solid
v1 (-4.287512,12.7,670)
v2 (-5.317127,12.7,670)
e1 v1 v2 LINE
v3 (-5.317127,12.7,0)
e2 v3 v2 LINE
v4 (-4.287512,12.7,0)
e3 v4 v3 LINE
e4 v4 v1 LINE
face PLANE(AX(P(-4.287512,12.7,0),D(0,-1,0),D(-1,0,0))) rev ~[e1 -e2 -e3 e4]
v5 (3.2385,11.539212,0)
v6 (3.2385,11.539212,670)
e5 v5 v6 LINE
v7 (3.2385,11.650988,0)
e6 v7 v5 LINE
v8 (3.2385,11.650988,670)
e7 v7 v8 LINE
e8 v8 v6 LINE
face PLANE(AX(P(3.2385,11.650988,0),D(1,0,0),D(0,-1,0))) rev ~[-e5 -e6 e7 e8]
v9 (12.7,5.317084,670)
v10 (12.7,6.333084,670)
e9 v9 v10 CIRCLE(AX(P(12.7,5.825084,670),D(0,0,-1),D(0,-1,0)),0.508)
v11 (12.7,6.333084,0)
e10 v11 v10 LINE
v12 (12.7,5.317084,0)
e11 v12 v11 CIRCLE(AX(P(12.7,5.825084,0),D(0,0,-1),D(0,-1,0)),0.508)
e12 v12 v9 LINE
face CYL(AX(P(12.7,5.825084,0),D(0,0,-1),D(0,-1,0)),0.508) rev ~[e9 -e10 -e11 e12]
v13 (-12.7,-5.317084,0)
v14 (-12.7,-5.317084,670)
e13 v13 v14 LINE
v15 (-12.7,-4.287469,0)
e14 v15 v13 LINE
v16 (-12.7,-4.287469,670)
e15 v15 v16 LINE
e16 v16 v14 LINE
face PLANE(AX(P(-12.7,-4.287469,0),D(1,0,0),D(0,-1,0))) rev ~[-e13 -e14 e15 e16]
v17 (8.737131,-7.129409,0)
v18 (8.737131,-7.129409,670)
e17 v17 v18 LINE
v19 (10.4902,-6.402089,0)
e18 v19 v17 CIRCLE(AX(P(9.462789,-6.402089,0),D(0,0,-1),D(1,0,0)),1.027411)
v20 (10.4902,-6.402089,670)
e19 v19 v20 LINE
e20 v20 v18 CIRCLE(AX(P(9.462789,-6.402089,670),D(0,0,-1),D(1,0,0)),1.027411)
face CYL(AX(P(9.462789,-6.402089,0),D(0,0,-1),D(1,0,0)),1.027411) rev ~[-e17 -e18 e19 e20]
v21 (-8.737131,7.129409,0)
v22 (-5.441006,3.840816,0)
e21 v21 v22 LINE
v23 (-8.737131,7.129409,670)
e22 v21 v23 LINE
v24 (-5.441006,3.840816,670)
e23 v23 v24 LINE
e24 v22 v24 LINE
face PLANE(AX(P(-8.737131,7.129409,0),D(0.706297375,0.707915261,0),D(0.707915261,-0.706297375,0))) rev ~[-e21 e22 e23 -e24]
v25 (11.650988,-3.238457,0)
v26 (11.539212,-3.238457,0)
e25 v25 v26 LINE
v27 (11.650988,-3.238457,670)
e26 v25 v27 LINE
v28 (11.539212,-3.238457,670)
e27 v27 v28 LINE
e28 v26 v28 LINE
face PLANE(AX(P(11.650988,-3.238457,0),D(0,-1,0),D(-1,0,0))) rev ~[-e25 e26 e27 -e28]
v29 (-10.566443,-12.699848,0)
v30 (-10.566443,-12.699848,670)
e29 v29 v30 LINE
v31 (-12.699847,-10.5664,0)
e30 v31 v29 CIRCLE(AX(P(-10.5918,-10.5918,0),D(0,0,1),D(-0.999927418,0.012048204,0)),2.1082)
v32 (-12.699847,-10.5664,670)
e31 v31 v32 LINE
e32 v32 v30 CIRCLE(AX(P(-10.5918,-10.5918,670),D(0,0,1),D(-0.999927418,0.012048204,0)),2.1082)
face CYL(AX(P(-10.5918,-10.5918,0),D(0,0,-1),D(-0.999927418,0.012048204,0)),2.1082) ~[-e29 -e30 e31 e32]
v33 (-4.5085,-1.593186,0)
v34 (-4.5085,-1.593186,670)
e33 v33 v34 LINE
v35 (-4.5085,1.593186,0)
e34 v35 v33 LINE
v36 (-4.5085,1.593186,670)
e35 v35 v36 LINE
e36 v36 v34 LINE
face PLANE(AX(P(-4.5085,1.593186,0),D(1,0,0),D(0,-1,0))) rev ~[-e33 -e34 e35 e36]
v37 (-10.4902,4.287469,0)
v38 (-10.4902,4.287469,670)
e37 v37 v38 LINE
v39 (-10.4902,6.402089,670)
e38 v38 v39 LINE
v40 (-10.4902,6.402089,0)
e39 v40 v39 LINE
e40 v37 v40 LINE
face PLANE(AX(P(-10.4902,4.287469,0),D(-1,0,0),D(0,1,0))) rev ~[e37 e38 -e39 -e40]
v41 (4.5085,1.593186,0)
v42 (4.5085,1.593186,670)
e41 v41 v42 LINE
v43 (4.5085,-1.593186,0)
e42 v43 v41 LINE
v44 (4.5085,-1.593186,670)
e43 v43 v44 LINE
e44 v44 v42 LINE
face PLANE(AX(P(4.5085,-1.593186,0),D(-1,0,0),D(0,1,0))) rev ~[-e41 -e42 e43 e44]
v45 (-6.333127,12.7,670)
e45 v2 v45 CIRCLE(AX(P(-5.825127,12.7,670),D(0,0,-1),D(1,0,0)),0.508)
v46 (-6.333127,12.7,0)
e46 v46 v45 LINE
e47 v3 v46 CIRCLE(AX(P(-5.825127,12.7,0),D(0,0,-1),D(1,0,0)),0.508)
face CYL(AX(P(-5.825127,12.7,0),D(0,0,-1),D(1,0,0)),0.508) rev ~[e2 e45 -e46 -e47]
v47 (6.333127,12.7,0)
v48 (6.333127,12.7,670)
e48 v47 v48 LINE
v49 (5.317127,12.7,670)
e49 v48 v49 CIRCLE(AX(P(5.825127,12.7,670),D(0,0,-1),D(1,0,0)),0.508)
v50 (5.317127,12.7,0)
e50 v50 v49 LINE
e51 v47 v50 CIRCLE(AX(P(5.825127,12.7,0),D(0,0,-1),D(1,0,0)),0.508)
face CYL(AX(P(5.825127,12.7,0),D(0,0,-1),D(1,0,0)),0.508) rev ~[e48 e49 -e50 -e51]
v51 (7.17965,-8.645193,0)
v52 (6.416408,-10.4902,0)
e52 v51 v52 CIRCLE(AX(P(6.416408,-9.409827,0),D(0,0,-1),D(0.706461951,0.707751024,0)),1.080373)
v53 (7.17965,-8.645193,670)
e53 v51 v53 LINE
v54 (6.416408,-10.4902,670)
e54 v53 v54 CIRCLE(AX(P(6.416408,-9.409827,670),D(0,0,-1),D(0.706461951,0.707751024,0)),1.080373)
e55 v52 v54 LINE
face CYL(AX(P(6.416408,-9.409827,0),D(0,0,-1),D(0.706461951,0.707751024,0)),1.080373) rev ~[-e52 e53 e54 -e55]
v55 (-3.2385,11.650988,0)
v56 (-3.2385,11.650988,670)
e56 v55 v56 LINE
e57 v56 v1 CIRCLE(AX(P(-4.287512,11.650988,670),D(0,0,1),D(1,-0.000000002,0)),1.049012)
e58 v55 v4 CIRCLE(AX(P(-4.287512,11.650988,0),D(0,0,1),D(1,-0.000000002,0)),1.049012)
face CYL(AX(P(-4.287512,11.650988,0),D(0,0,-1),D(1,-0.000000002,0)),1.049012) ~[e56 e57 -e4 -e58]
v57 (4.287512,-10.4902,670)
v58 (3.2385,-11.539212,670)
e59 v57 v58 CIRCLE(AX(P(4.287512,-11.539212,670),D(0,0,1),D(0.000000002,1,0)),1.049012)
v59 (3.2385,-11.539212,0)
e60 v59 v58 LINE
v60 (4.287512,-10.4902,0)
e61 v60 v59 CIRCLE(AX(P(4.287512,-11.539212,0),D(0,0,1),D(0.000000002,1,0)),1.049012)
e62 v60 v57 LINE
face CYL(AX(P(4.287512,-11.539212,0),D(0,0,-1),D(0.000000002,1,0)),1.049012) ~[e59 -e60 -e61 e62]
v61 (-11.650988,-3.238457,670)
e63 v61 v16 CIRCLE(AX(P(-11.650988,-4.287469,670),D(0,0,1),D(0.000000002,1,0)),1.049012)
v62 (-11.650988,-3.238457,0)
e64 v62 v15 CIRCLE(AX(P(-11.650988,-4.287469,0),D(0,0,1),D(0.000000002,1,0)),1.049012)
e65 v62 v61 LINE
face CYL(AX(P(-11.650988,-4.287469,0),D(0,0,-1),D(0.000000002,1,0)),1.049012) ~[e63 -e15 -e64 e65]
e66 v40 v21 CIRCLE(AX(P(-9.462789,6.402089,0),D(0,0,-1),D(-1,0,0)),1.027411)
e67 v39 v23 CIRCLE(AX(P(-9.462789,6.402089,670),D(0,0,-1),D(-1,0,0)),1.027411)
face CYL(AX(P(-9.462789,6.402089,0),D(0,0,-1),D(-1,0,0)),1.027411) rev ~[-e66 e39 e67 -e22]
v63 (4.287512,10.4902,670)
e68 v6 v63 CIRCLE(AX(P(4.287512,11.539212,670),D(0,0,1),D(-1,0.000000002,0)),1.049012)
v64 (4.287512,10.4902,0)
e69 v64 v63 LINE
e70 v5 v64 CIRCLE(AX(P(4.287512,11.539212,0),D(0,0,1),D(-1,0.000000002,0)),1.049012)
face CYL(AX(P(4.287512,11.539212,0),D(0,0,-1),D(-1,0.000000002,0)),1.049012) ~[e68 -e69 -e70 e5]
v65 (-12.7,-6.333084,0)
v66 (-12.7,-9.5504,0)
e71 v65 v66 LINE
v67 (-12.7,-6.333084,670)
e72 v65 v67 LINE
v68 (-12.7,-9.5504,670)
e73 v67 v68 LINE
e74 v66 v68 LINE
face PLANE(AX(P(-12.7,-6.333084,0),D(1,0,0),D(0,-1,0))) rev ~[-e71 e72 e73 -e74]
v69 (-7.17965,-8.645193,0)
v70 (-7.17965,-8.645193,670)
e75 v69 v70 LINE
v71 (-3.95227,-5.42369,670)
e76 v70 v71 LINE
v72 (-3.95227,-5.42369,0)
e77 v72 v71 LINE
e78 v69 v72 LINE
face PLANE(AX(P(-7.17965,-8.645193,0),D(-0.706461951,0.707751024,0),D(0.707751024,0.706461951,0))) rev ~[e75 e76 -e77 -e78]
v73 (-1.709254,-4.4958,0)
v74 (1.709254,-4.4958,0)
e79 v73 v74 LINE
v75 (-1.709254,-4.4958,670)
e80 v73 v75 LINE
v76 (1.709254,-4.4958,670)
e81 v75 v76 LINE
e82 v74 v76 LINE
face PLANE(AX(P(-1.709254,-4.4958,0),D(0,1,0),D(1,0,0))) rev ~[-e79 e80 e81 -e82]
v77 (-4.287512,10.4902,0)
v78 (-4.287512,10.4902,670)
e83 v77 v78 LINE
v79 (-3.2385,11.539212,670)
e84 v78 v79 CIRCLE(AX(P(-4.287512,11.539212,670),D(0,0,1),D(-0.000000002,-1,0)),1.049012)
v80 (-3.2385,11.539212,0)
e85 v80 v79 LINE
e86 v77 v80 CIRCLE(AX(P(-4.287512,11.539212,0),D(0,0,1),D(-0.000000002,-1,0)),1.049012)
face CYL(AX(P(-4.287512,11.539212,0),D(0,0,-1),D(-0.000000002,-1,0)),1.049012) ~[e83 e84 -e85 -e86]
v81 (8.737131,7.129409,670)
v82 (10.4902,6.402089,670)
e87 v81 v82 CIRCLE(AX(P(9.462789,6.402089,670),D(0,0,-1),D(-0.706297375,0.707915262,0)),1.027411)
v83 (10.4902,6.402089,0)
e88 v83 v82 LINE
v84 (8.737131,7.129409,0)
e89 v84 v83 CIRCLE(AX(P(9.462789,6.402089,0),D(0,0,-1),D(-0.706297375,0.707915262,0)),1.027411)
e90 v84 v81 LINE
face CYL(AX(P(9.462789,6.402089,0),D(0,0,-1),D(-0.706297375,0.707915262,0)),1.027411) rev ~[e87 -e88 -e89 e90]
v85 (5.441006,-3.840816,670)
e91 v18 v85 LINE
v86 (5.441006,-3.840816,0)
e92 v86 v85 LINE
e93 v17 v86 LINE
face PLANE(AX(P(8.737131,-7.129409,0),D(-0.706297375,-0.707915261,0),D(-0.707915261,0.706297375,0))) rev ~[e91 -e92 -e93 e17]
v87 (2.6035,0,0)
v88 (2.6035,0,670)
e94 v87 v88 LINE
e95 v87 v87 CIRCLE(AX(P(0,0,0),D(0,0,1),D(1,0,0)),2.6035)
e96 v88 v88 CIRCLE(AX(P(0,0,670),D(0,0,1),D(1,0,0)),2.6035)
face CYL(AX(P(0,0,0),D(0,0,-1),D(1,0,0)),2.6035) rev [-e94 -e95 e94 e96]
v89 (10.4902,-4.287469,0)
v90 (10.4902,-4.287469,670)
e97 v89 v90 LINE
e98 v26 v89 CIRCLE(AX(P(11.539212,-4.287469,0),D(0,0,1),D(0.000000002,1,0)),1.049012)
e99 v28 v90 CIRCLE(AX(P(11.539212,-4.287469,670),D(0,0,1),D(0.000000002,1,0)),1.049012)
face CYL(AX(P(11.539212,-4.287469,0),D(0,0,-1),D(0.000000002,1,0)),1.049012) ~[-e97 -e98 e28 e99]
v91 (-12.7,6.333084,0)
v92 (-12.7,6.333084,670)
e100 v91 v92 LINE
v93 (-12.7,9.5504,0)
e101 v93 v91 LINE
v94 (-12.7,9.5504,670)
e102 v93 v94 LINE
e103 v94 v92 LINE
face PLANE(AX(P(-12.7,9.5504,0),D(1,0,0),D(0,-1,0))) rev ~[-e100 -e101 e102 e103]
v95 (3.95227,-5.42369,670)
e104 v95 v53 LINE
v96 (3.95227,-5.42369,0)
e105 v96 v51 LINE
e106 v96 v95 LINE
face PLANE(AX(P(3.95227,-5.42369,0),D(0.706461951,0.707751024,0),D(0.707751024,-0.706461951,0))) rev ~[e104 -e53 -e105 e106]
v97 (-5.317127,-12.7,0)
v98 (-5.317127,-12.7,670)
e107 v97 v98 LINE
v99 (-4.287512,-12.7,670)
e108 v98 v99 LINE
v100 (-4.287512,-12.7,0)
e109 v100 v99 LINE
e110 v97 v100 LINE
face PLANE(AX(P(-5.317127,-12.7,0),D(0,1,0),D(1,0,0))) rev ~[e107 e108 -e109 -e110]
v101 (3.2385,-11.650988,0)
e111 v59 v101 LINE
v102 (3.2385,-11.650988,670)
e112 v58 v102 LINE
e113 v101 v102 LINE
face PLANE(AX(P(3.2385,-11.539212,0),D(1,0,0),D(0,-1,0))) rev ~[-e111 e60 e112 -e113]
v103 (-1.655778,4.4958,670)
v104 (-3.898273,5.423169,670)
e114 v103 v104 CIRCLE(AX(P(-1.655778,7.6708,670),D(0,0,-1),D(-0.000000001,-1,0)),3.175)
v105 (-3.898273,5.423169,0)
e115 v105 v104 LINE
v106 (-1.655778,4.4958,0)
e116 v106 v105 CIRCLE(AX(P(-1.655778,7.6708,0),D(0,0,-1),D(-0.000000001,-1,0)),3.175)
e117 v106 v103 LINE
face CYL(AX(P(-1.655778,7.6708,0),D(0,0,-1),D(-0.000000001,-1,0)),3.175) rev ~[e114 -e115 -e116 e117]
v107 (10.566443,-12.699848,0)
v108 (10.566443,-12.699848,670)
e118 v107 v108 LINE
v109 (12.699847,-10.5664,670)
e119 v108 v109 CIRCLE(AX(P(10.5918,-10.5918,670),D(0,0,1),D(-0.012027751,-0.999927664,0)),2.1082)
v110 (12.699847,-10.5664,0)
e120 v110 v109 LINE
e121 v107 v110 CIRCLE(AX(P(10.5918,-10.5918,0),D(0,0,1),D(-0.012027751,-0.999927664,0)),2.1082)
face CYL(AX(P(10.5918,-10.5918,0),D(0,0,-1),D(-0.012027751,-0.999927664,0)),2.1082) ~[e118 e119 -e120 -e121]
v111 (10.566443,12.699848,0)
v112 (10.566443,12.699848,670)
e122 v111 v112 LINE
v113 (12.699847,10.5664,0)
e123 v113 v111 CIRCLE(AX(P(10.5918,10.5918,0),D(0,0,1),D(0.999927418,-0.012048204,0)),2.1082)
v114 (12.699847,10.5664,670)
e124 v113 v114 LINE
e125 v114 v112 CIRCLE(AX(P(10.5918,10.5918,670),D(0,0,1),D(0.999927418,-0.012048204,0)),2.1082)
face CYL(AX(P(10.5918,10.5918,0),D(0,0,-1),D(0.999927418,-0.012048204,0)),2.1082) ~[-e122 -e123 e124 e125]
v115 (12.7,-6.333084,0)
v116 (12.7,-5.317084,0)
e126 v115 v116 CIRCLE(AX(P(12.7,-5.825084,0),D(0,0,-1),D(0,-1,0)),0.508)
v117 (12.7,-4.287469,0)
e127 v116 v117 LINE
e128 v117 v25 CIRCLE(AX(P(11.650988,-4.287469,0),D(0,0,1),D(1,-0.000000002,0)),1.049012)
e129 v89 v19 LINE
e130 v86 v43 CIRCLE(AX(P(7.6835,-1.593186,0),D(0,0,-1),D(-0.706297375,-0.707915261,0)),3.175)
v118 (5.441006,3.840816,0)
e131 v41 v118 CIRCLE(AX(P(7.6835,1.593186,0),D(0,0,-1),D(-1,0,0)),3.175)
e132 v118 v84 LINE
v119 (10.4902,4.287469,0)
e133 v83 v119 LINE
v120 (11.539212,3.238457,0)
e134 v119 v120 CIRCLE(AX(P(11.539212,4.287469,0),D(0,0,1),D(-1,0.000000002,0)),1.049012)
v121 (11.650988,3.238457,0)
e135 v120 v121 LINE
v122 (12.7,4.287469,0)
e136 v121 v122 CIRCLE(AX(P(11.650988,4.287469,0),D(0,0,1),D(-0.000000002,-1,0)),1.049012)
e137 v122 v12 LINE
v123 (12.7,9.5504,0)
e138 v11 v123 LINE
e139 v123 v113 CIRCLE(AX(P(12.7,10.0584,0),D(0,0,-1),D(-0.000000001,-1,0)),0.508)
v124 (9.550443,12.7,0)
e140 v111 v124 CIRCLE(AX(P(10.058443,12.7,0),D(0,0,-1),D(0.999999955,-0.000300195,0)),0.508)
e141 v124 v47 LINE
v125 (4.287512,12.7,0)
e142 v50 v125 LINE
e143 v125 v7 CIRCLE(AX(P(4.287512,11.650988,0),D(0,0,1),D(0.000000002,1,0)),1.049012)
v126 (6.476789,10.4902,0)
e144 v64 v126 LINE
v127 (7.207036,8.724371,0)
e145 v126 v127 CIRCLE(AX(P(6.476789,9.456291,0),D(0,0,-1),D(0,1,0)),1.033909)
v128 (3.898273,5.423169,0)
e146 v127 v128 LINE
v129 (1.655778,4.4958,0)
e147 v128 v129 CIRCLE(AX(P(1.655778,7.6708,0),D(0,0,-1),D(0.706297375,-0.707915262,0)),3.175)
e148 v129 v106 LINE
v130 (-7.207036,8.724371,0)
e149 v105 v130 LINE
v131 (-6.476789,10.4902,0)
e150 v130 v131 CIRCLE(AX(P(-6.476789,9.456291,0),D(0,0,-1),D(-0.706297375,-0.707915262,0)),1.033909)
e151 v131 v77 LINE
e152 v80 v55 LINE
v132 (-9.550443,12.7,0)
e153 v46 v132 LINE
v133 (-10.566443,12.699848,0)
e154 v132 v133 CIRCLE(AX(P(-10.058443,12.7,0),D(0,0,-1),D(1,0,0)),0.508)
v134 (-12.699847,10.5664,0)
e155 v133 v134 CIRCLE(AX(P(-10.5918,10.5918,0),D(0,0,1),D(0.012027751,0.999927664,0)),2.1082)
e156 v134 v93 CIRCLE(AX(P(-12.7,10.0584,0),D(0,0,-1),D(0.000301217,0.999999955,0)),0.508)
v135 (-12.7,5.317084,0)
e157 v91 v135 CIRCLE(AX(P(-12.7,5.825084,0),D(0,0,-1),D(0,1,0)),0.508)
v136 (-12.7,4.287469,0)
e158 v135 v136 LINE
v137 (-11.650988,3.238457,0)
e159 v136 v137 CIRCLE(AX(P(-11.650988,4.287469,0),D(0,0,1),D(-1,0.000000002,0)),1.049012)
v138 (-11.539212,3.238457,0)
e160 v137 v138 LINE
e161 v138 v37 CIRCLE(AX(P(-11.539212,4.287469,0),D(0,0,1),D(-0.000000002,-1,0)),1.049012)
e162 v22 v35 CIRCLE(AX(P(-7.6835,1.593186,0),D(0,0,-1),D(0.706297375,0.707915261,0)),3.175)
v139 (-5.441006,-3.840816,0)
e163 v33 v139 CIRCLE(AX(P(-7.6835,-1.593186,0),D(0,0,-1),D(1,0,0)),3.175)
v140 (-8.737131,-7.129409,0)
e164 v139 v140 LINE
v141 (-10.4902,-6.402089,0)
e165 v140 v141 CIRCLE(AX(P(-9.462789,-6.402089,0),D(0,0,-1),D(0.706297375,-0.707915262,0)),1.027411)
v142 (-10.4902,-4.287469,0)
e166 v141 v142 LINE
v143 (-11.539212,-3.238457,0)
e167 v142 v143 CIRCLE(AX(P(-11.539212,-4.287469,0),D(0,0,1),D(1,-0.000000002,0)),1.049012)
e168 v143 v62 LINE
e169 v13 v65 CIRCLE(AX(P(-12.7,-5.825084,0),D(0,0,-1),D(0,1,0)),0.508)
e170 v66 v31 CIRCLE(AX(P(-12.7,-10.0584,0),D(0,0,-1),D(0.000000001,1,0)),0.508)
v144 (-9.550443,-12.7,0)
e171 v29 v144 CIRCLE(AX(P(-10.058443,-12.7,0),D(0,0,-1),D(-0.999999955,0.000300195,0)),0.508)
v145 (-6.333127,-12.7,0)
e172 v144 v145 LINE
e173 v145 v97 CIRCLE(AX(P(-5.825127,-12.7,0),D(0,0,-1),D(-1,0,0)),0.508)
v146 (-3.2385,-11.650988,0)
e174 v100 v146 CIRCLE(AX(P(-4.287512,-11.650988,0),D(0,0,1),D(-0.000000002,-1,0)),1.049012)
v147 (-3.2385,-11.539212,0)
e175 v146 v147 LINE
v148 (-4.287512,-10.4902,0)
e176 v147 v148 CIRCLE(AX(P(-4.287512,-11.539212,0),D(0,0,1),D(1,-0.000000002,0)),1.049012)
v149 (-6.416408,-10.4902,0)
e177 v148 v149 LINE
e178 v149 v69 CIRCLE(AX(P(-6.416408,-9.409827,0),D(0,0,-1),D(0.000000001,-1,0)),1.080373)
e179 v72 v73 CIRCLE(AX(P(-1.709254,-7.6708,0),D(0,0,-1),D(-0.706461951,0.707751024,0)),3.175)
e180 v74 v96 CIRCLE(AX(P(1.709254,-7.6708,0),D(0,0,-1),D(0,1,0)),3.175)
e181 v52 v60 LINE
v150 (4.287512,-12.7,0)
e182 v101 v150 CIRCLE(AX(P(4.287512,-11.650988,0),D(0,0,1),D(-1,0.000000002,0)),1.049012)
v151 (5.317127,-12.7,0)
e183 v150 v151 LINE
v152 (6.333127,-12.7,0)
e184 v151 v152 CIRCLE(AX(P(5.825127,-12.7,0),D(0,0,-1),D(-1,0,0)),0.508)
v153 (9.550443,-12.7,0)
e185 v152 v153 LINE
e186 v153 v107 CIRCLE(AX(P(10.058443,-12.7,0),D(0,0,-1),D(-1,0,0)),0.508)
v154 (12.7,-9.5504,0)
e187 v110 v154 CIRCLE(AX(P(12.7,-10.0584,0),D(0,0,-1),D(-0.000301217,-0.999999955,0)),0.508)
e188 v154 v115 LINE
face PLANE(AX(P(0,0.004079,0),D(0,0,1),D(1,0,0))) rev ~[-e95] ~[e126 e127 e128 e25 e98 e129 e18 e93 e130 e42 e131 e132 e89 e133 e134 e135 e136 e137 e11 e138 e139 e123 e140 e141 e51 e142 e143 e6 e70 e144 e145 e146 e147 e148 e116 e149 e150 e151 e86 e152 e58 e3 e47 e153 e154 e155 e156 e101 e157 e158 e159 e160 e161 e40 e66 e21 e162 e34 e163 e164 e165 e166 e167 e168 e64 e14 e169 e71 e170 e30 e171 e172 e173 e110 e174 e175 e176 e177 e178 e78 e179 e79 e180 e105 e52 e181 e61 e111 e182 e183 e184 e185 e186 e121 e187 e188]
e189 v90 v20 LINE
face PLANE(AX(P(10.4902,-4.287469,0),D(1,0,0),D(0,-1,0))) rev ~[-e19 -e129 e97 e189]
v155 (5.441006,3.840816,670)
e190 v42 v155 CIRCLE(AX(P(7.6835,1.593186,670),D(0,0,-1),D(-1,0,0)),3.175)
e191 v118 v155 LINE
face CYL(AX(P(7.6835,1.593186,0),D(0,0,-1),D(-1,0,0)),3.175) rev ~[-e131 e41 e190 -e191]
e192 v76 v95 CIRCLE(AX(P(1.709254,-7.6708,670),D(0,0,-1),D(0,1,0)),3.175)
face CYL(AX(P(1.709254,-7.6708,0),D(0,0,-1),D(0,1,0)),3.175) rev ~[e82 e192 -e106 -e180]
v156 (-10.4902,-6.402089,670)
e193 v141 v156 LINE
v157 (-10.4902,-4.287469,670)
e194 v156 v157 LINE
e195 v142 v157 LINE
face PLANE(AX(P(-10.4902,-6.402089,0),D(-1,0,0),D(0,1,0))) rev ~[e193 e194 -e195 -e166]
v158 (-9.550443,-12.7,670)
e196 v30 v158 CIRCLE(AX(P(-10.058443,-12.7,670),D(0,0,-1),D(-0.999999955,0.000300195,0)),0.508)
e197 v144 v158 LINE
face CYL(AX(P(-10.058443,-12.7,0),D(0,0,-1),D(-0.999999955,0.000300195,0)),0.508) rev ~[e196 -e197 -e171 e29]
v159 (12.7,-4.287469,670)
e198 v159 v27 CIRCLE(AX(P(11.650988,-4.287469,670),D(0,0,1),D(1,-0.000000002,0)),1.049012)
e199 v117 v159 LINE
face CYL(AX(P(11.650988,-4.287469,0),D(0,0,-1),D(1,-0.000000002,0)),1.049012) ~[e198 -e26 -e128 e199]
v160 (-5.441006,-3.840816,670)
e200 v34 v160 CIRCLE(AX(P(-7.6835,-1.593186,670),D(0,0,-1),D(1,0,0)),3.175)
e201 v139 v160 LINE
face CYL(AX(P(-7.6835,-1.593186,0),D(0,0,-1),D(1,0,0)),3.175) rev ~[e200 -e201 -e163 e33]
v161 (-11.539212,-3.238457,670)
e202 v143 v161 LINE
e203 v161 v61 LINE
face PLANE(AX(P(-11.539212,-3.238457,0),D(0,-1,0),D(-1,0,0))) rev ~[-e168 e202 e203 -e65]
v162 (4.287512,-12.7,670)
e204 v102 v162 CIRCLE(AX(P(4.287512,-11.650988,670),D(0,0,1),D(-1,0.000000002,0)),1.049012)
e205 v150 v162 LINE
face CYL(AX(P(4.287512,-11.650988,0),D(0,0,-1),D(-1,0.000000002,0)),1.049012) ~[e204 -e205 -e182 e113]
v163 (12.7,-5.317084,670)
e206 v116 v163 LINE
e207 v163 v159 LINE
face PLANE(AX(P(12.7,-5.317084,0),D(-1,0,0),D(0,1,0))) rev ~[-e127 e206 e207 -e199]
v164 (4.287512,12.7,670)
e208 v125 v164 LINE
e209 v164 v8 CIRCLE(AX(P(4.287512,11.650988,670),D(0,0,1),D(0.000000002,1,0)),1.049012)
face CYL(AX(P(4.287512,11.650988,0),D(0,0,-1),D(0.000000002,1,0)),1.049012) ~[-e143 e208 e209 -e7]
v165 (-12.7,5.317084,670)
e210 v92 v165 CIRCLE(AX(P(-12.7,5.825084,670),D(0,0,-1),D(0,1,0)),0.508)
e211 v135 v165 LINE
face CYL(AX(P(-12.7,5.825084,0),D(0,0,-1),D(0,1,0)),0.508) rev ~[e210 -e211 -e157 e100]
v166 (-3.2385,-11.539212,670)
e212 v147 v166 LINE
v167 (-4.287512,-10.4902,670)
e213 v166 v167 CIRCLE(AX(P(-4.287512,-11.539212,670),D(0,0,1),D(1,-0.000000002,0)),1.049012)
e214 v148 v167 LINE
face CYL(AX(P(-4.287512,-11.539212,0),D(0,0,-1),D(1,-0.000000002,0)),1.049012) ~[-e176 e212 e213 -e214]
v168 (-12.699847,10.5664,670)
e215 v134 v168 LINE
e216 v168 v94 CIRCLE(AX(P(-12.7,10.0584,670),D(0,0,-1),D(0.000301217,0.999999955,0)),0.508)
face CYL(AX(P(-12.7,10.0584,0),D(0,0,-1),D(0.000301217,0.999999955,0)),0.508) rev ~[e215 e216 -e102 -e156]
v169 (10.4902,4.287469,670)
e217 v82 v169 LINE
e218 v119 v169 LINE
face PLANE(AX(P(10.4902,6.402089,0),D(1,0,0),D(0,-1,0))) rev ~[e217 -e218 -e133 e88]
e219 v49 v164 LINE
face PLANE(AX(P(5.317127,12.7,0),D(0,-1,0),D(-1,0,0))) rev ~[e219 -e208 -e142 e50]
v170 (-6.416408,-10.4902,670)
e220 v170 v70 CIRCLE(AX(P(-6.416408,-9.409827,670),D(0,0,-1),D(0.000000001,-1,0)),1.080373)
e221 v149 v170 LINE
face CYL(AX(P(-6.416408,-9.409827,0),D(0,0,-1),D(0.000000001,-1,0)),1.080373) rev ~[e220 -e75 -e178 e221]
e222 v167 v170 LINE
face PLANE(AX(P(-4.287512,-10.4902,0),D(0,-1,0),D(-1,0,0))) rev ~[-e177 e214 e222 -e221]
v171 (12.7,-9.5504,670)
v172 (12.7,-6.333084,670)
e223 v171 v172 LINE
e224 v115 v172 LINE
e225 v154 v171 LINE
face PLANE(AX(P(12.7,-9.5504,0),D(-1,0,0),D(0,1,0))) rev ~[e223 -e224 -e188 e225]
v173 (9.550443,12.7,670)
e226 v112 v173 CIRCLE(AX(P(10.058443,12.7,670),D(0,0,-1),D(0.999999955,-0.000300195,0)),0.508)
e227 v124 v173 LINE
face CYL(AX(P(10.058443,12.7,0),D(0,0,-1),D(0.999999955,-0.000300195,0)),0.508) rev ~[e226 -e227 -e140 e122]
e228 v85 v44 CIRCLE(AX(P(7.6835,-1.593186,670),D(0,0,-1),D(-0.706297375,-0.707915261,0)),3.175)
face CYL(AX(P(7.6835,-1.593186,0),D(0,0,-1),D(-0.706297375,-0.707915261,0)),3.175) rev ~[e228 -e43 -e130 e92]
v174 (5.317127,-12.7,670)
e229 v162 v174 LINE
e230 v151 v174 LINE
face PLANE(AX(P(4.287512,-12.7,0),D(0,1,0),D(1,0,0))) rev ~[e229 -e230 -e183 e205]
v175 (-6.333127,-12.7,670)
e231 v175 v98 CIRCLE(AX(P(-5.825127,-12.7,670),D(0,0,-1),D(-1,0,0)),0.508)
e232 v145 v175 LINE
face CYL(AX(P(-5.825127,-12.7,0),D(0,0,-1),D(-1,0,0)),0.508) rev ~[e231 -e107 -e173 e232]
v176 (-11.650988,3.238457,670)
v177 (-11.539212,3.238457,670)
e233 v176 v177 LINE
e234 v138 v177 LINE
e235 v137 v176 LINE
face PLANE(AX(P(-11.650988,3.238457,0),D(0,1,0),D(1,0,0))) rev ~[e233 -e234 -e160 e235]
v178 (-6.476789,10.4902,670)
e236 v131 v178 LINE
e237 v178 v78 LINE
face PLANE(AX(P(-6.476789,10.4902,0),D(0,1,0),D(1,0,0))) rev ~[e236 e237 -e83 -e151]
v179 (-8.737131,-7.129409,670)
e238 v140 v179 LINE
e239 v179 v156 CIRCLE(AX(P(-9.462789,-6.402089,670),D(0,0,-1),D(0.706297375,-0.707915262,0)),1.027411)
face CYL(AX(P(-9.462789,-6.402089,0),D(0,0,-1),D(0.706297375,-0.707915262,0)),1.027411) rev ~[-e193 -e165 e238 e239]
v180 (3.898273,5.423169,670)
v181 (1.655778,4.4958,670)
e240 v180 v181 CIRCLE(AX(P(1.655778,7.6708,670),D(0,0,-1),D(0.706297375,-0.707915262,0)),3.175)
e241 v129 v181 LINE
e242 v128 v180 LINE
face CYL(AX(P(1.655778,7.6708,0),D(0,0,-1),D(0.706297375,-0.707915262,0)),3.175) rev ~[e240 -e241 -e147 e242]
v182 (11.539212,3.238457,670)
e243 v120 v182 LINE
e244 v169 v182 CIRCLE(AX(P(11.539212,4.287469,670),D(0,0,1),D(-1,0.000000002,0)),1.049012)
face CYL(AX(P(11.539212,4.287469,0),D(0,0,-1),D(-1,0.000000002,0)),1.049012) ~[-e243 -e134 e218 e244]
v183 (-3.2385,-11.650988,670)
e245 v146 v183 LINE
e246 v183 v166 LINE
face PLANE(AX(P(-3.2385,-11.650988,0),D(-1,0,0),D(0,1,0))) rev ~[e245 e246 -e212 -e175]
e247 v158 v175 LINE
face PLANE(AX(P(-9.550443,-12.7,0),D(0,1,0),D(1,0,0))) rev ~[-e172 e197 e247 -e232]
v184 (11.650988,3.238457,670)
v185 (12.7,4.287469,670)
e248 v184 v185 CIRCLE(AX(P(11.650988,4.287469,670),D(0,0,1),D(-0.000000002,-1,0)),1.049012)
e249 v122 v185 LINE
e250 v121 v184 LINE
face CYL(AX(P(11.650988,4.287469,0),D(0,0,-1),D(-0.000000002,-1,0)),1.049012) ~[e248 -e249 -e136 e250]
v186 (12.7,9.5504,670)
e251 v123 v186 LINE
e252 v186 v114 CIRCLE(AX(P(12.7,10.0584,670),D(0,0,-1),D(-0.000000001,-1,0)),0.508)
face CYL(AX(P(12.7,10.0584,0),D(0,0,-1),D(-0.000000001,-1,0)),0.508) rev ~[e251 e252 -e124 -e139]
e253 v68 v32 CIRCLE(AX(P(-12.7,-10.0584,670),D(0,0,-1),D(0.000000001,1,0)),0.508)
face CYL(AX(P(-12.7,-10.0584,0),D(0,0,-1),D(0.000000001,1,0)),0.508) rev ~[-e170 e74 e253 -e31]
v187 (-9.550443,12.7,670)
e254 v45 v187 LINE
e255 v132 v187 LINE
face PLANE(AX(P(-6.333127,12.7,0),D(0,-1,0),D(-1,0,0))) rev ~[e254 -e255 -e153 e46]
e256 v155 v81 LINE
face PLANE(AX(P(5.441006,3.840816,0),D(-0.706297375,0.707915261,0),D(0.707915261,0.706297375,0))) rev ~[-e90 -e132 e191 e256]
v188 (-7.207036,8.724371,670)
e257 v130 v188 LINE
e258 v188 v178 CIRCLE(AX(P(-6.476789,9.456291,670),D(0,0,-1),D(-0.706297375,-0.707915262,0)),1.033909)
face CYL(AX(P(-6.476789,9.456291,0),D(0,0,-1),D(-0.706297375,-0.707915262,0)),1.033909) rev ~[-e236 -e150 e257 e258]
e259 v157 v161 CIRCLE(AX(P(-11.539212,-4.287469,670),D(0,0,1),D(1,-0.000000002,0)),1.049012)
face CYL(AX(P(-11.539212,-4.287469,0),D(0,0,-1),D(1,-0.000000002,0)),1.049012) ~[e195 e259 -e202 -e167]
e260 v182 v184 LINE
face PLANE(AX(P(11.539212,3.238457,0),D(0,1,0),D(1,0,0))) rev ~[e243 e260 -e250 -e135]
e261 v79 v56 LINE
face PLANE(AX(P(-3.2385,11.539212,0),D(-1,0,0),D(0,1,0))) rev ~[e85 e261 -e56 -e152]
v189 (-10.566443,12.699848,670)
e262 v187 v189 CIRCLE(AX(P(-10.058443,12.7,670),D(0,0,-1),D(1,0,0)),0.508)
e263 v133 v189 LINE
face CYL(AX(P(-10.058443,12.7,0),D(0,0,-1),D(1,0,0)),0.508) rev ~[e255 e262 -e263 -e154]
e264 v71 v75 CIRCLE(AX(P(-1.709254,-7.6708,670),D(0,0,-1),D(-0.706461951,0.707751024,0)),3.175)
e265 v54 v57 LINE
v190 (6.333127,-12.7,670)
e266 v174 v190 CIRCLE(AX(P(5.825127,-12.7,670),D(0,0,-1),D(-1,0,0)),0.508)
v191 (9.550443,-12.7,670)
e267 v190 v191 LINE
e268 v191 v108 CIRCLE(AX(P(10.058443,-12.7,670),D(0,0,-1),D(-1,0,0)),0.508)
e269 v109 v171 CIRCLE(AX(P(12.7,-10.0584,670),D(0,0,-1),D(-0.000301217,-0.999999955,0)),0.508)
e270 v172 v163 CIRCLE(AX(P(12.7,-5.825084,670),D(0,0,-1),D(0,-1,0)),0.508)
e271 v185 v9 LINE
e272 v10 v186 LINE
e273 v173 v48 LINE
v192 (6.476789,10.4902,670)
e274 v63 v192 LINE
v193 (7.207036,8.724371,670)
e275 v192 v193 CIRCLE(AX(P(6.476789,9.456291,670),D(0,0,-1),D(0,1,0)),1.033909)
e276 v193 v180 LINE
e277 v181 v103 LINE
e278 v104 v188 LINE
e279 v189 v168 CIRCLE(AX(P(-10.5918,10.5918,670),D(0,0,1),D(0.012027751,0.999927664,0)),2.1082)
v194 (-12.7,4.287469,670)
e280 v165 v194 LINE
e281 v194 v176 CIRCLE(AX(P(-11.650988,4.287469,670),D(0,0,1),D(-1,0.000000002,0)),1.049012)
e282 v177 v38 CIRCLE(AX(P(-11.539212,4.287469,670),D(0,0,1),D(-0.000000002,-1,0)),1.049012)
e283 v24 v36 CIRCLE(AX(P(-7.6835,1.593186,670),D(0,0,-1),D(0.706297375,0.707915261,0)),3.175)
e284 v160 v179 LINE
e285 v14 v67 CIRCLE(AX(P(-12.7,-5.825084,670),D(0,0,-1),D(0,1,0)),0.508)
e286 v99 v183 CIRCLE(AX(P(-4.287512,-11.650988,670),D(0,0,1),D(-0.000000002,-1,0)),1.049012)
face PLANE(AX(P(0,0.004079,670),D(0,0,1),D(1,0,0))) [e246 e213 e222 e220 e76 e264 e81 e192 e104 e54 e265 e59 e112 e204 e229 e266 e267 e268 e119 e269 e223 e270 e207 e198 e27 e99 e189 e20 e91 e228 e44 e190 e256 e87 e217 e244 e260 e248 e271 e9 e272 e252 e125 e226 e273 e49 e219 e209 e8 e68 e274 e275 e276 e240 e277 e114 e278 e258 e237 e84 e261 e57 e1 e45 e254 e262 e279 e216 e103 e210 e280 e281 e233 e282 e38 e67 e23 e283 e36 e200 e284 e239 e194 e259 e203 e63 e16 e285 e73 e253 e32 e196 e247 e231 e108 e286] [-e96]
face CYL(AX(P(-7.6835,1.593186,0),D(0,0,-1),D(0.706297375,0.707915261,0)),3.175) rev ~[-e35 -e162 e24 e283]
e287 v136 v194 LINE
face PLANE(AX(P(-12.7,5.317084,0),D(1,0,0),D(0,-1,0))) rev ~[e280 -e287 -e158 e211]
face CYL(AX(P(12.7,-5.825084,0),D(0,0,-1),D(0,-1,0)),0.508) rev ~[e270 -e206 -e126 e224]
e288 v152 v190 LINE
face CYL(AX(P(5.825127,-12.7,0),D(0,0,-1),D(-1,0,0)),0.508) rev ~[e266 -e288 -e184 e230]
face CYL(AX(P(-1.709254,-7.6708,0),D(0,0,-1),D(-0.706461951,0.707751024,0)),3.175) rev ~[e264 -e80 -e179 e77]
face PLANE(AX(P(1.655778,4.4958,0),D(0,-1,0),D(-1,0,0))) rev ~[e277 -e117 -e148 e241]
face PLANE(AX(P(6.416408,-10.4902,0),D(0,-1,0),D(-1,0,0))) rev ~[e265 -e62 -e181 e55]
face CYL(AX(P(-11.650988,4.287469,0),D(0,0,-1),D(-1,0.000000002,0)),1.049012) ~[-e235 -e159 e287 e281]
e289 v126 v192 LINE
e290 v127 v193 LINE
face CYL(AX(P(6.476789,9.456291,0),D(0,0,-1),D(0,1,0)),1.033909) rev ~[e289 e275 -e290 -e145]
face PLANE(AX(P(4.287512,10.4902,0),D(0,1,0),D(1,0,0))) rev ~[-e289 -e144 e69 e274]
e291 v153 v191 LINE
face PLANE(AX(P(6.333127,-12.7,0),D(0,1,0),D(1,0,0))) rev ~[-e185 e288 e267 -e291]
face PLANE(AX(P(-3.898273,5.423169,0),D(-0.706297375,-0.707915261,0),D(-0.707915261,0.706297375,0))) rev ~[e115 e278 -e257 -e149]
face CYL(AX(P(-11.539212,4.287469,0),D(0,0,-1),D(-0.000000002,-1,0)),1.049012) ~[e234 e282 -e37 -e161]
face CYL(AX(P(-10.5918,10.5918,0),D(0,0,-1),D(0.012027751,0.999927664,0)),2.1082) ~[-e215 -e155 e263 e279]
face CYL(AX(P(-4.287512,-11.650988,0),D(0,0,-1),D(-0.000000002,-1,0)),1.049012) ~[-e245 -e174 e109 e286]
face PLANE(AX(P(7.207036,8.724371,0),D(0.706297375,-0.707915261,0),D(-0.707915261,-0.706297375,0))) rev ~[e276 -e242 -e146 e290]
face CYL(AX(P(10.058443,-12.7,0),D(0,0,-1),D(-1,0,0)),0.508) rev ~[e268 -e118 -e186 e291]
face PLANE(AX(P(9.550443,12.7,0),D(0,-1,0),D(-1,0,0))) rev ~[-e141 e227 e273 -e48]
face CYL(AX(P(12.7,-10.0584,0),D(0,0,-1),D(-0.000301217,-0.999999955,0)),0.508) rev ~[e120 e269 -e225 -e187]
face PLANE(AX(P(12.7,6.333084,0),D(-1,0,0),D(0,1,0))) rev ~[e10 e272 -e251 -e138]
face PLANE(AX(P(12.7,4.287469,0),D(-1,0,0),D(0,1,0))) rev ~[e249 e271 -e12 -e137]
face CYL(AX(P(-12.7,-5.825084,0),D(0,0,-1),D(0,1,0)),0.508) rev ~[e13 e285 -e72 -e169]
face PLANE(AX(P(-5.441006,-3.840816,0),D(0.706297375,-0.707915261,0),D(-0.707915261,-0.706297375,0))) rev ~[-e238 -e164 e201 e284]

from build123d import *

# Parameters (mm, degrees)
SKETCH1_R           = 2.6035
BOSS_EXTRUDE1_DEPTH = 670


with BuildPart() as part:
    # Sketch1 → Boss-Extrude1 (new body)
    with BuildSketch(Plane.XY):
        with BuildLine():
            Line((-7.179650497, -8.645192506), (-3.952270251, -5.423690499))
            ThreePointArc((-3.952270251, -5.423690499), (-2.922936451, -4.736929036), (-1.709253557, -4.4958))
            Line((-1.709253557, -4.4958), (1.709253557, -4.4958))
            ThreePointArc((1.709253557, -4.4958), (2.922936451, -4.736929036), (3.952270251, -5.423690499))
            Line((3.952270251, -5.423690499), (7.179650497, -8.645192506))
            ThreePointArc((7.179650497, -8.645192506), (7.41473083, -9.822813117), (6.416408329, -10.4902))
            Line((6.416408329, -10.4902), (4.287512407, -10.4902))
            ThreePointArc((4.287512407, -10.4902), (3.54574862, -10.79744862), (3.2385, -11.539212407))
            Line((3.2385, -11.539212407), (3.2385, -11.650987593))
            ThreePointArc((3.2385, -11.650987593), (3.54574862, -12.39275138), (4.287512407, -12.7))
            Line((4.287512407, -12.7), (5.317126718, -12.7))
            ThreePointArc((5.317126718, -12.7), (5.825126718, -12.192), (6.333126718, -12.7))
            Line((6.333126718, -12.7), (9.550443118, -12.7))
            ThreePointArc((9.550443118, -12.7), (10.058366869, -12.192000006), (10.566443095, -12.699847501))
            ThreePointArc((10.566443095, -12.699847501), (12.082537762, -12.08250727), (12.699846982, -10.566399977))
            ThreePointArc((12.699846982, -10.566399977), (12.192000006, -10.058323491), (12.7, -9.5504))
            Line((12.7, -9.5504), (12.7, -6.3330836))
            ThreePointArc((12.7, -6.3330836), (12.192, -5.8250836), (12.7, -5.3170836))
            Line((12.7, -5.3170836), (12.7, -4.287469289))
            ThreePointArc((12.7, -4.287469289), (12.39275138, -3.545705502), (11.650987593, -3.238456882))
            Line((11.650987593, -3.238456882), (11.539212407, -3.238456882))
            ThreePointArc((11.539212407, -3.238456882), (10.79744862, -3.545705502), (10.4902, -4.287469289))
            Line((10.4902, -4.287469289), (10.4902, -6.402089023))
            ThreePointArc((10.4902, -6.402089023), (9.856505071, -7.351067942), (8.737131347, -7.129408934))
            Line((8.737131347, -7.129408934), (5.441005833, -3.840816462))
            ThreePointArc((5.441005833, -3.840816462), (4.750877967, -2.809883091), (4.5085, -1.593185507))
            Line((4.5085, -1.593185507), (4.5085, 1.593185507))
            ThreePointArc((4.5085, 1.593185507), (4.750877967, 2.809883091), (5.441005833, 3.840816462))
            Line((5.441005833, 3.840816462), (8.737131347, 7.129408934))
            ThreePointArc((8.737131347, 7.129408934), (9.856505071, 7.351067942), (10.4902, 6.402089023))
            Line((10.4902, 6.402089023), (10.4902, 4.287469289))
            ThreePointArc((10.4902, 4.287469289), (10.79744862, 3.545705502), (11.539212407, 3.238456882))
            Line((11.539212407, 3.238456882), (11.650987593, 3.238456882))
            ThreePointArc((11.650987593, 3.238456882), (12.39275138, 3.545705502), (12.7, 4.287469289))
            Line((12.7, 4.287469289), (12.7, 5.3170836))
            ThreePointArc((12.7, 5.3170836), (12.192, 5.8250836), (12.7, 6.3330836))
            Line((12.7, 6.3330836), (12.7, 9.5504))
            ThreePointArc((12.7, 9.5504), (12.192000006, 10.058323491), (12.699846982, 10.566399977))
            ThreePointArc((12.699846982, 10.566399977), (12.082537762, 12.08250727), (10.566443095, 12.699847501))
            ThreePointArc((10.566443095, 12.699847501), (10.058366869, 12.192000006), (9.550443118, 12.7))
            Line((9.550443118, 12.7), (6.333126718, 12.7))
            ThreePointArc((6.333126718, 12.7), (5.825126718, 12.192), (5.317126718, 12.7))
            Line((5.317126718, 12.7), (4.287512407, 12.7))
            ThreePointArc((4.287512407, 12.7), (3.54574862, 12.39275138), (3.2385, 11.650987593))
            Line((3.2385, 11.650987593), (3.2385, 11.539212407))
            ThreePointArc((3.2385, 11.539212407), (3.54574862, 10.79744862), (4.287512407, 10.4902))
            Line((4.287512407, 10.4902), (6.476788598, 10.4902))
            ThreePointArc((6.476788598, 10.4902), (7.432222385, 9.85140422), (7.207036008, 8.724370562))
            Line((7.207036008, 8.724370562), (3.898272566, 5.423169045))
            ThreePointArc((3.898272566, 5.423169045), (2.869120213, 4.736787962), (1.655778399, 4.4958))
            Line((1.655778399, 4.4958), (-1.655778399, 4.4958))
            ThreePointArc((-1.655778399, 4.4958), (-2.869120213, 4.736787962), (-3.898272566, 5.423169045))
            Line((-3.898272566, 5.423169045), (-7.207036008, 8.724370562))
            ThreePointArc((-7.207036008, 8.724370562), (-7.432222385, 9.85140422), (-6.476788598, 10.4902))
            Line((-6.476788598, 10.4902), (-4.287512407, 10.4902))
            ThreePointArc((-4.287512407, 10.4902), (-3.54574862, 10.79744862), (-3.2385, 11.539212407))
            Line((-3.2385, 11.539212407), (-3.2385, 11.650987593))
            ThreePointArc((-3.2385, 11.650987593), (-3.54574862, 12.39275138), (-4.287512407, 12.7))
            Line((-4.287512407, 12.7), (-5.317126718, 12.7))
            ThreePointArc((-5.317126718, 12.7), (-5.825126718, 12.192), (-6.333126718, 12.7))
            Line((-6.333126718, 12.7), (-9.550443118, 12.7))
            ThreePointArc((-9.550443118, 12.7), (-10.058366869, 12.192000006), (-10.566443095, 12.699847501))
            ThreePointArc((-10.566443095, 12.699847501), (-12.082537762, 12.08250727), (-12.699846982, 10.566399977))
            ThreePointArc((-12.699846982, 10.566399977), (-12.192000006, 10.058323491), (-12.7, 9.5504))
            Line((-12.7, 9.5504), (-12.7, 6.3330836))
            ThreePointArc((-12.7, 6.3330836), (-12.192, 5.8250836), (-12.7, 5.3170836))
            Line((-12.7, 5.3170836), (-12.7, 4.287469289))
            ThreePointArc((-12.7, 4.287469289), (-12.39275138, 3.545705502), (-11.650987593, 3.238456882))
            Line((-11.650987593, 3.238456882), (-11.539212407, 3.238456882))
            ThreePointArc((-11.539212407, 3.238456882), (-10.79744862, 3.545705502), (-10.4902, 4.287469289))
            Line((-10.4902, 4.287469289), (-10.4902, 6.402089023))
            ThreePointArc((-10.4902, 6.402089023), (-9.856505071, 7.351067942), (-8.737131347, 7.129408934))
            Line((-8.737131347, 7.129408934), (-5.441005833, 3.840816462))
            ThreePointArc((-5.441005833, 3.840816462), (-4.750877967, 2.809883091), (-4.5085, 1.593185507))
            Line((-4.5085, 1.593185507), (-4.5085, -1.593185507))
            ThreePointArc((-4.5085, -1.593185507), (-4.750877967, -2.809883091), (-5.441005833, -3.840816462))
            Line((-5.441005833, -3.840816462), (-8.737131347, -7.129408934))
            ThreePointArc((-8.737131347, -7.129408934), (-9.856505071, -7.351067942), (-10.4902, -6.402089023))
            Line((-10.4902, -6.402089023), (-10.4902, -4.287469289))
            ThreePointArc((-10.4902, -4.287469289), (-10.79744862, -3.545705502), (-11.539212407, -3.238456882))
            Line((-11.539212407, -3.238456882), (-11.650987593, -3.238456882))
            ThreePointArc((-11.650987593, -3.238456882), (-12.39275138, -3.545705502), (-12.7, -4.287469289))
            Line((-12.7, -4.287469289), (-12.7, -5.3170836))
            ThreePointArc((-12.7, -5.3170836), (-12.192, -5.8250836), (-12.7, -6.3330836))
            Line((-12.7, -6.3330836), (-12.7, -9.5504))
            ThreePointArc((-12.7, -9.5504), (-12.192000006, -10.058323491), (-12.699846982, -10.566399977))
            ThreePointArc((-12.699846982, -10.566399977), (-12.082537762, -12.08250727), (-10.566443095, -12.699847501))
            ThreePointArc((-10.566443095, -12.699847501), (-10.058366869, -12.192000006), (-9.550443118, -12.7))
            Line((-9.550443118, -12.7), (-6.333126718, -12.7))
            ThreePointArc((-6.333126718, -12.7), (-5.825126718, -12.192), (-5.317126718, -12.7))
            Line((-5.317126718, -12.7), (-4.287512407, -12.7))
            ThreePointArc((-4.287512407, -12.7), (-3.54574862, -12.39275138), (-3.2385, -11.650987593))
            Line((-3.2385, -11.650987593), (-3.2385, -11.539212407))
            ThreePointArc((-3.2385, -11.539212407), (-3.54574862, -10.79744862), (-4.287512407, -10.4902))
            Line((-4.287512407, -10.4902), (-6.416408329, -10.4902))
            ThreePointArc((-6.416408329, -10.4902), (-7.41473083, -9.822813117), (-7.179650497, -8.645192506))
        make_face()
        Circle(SKETCH1_R, mode=Mode.SUBTRACT)
    extrude(amount=BOSS_EXTRUDE1_DEPTH)


solid = part.part
